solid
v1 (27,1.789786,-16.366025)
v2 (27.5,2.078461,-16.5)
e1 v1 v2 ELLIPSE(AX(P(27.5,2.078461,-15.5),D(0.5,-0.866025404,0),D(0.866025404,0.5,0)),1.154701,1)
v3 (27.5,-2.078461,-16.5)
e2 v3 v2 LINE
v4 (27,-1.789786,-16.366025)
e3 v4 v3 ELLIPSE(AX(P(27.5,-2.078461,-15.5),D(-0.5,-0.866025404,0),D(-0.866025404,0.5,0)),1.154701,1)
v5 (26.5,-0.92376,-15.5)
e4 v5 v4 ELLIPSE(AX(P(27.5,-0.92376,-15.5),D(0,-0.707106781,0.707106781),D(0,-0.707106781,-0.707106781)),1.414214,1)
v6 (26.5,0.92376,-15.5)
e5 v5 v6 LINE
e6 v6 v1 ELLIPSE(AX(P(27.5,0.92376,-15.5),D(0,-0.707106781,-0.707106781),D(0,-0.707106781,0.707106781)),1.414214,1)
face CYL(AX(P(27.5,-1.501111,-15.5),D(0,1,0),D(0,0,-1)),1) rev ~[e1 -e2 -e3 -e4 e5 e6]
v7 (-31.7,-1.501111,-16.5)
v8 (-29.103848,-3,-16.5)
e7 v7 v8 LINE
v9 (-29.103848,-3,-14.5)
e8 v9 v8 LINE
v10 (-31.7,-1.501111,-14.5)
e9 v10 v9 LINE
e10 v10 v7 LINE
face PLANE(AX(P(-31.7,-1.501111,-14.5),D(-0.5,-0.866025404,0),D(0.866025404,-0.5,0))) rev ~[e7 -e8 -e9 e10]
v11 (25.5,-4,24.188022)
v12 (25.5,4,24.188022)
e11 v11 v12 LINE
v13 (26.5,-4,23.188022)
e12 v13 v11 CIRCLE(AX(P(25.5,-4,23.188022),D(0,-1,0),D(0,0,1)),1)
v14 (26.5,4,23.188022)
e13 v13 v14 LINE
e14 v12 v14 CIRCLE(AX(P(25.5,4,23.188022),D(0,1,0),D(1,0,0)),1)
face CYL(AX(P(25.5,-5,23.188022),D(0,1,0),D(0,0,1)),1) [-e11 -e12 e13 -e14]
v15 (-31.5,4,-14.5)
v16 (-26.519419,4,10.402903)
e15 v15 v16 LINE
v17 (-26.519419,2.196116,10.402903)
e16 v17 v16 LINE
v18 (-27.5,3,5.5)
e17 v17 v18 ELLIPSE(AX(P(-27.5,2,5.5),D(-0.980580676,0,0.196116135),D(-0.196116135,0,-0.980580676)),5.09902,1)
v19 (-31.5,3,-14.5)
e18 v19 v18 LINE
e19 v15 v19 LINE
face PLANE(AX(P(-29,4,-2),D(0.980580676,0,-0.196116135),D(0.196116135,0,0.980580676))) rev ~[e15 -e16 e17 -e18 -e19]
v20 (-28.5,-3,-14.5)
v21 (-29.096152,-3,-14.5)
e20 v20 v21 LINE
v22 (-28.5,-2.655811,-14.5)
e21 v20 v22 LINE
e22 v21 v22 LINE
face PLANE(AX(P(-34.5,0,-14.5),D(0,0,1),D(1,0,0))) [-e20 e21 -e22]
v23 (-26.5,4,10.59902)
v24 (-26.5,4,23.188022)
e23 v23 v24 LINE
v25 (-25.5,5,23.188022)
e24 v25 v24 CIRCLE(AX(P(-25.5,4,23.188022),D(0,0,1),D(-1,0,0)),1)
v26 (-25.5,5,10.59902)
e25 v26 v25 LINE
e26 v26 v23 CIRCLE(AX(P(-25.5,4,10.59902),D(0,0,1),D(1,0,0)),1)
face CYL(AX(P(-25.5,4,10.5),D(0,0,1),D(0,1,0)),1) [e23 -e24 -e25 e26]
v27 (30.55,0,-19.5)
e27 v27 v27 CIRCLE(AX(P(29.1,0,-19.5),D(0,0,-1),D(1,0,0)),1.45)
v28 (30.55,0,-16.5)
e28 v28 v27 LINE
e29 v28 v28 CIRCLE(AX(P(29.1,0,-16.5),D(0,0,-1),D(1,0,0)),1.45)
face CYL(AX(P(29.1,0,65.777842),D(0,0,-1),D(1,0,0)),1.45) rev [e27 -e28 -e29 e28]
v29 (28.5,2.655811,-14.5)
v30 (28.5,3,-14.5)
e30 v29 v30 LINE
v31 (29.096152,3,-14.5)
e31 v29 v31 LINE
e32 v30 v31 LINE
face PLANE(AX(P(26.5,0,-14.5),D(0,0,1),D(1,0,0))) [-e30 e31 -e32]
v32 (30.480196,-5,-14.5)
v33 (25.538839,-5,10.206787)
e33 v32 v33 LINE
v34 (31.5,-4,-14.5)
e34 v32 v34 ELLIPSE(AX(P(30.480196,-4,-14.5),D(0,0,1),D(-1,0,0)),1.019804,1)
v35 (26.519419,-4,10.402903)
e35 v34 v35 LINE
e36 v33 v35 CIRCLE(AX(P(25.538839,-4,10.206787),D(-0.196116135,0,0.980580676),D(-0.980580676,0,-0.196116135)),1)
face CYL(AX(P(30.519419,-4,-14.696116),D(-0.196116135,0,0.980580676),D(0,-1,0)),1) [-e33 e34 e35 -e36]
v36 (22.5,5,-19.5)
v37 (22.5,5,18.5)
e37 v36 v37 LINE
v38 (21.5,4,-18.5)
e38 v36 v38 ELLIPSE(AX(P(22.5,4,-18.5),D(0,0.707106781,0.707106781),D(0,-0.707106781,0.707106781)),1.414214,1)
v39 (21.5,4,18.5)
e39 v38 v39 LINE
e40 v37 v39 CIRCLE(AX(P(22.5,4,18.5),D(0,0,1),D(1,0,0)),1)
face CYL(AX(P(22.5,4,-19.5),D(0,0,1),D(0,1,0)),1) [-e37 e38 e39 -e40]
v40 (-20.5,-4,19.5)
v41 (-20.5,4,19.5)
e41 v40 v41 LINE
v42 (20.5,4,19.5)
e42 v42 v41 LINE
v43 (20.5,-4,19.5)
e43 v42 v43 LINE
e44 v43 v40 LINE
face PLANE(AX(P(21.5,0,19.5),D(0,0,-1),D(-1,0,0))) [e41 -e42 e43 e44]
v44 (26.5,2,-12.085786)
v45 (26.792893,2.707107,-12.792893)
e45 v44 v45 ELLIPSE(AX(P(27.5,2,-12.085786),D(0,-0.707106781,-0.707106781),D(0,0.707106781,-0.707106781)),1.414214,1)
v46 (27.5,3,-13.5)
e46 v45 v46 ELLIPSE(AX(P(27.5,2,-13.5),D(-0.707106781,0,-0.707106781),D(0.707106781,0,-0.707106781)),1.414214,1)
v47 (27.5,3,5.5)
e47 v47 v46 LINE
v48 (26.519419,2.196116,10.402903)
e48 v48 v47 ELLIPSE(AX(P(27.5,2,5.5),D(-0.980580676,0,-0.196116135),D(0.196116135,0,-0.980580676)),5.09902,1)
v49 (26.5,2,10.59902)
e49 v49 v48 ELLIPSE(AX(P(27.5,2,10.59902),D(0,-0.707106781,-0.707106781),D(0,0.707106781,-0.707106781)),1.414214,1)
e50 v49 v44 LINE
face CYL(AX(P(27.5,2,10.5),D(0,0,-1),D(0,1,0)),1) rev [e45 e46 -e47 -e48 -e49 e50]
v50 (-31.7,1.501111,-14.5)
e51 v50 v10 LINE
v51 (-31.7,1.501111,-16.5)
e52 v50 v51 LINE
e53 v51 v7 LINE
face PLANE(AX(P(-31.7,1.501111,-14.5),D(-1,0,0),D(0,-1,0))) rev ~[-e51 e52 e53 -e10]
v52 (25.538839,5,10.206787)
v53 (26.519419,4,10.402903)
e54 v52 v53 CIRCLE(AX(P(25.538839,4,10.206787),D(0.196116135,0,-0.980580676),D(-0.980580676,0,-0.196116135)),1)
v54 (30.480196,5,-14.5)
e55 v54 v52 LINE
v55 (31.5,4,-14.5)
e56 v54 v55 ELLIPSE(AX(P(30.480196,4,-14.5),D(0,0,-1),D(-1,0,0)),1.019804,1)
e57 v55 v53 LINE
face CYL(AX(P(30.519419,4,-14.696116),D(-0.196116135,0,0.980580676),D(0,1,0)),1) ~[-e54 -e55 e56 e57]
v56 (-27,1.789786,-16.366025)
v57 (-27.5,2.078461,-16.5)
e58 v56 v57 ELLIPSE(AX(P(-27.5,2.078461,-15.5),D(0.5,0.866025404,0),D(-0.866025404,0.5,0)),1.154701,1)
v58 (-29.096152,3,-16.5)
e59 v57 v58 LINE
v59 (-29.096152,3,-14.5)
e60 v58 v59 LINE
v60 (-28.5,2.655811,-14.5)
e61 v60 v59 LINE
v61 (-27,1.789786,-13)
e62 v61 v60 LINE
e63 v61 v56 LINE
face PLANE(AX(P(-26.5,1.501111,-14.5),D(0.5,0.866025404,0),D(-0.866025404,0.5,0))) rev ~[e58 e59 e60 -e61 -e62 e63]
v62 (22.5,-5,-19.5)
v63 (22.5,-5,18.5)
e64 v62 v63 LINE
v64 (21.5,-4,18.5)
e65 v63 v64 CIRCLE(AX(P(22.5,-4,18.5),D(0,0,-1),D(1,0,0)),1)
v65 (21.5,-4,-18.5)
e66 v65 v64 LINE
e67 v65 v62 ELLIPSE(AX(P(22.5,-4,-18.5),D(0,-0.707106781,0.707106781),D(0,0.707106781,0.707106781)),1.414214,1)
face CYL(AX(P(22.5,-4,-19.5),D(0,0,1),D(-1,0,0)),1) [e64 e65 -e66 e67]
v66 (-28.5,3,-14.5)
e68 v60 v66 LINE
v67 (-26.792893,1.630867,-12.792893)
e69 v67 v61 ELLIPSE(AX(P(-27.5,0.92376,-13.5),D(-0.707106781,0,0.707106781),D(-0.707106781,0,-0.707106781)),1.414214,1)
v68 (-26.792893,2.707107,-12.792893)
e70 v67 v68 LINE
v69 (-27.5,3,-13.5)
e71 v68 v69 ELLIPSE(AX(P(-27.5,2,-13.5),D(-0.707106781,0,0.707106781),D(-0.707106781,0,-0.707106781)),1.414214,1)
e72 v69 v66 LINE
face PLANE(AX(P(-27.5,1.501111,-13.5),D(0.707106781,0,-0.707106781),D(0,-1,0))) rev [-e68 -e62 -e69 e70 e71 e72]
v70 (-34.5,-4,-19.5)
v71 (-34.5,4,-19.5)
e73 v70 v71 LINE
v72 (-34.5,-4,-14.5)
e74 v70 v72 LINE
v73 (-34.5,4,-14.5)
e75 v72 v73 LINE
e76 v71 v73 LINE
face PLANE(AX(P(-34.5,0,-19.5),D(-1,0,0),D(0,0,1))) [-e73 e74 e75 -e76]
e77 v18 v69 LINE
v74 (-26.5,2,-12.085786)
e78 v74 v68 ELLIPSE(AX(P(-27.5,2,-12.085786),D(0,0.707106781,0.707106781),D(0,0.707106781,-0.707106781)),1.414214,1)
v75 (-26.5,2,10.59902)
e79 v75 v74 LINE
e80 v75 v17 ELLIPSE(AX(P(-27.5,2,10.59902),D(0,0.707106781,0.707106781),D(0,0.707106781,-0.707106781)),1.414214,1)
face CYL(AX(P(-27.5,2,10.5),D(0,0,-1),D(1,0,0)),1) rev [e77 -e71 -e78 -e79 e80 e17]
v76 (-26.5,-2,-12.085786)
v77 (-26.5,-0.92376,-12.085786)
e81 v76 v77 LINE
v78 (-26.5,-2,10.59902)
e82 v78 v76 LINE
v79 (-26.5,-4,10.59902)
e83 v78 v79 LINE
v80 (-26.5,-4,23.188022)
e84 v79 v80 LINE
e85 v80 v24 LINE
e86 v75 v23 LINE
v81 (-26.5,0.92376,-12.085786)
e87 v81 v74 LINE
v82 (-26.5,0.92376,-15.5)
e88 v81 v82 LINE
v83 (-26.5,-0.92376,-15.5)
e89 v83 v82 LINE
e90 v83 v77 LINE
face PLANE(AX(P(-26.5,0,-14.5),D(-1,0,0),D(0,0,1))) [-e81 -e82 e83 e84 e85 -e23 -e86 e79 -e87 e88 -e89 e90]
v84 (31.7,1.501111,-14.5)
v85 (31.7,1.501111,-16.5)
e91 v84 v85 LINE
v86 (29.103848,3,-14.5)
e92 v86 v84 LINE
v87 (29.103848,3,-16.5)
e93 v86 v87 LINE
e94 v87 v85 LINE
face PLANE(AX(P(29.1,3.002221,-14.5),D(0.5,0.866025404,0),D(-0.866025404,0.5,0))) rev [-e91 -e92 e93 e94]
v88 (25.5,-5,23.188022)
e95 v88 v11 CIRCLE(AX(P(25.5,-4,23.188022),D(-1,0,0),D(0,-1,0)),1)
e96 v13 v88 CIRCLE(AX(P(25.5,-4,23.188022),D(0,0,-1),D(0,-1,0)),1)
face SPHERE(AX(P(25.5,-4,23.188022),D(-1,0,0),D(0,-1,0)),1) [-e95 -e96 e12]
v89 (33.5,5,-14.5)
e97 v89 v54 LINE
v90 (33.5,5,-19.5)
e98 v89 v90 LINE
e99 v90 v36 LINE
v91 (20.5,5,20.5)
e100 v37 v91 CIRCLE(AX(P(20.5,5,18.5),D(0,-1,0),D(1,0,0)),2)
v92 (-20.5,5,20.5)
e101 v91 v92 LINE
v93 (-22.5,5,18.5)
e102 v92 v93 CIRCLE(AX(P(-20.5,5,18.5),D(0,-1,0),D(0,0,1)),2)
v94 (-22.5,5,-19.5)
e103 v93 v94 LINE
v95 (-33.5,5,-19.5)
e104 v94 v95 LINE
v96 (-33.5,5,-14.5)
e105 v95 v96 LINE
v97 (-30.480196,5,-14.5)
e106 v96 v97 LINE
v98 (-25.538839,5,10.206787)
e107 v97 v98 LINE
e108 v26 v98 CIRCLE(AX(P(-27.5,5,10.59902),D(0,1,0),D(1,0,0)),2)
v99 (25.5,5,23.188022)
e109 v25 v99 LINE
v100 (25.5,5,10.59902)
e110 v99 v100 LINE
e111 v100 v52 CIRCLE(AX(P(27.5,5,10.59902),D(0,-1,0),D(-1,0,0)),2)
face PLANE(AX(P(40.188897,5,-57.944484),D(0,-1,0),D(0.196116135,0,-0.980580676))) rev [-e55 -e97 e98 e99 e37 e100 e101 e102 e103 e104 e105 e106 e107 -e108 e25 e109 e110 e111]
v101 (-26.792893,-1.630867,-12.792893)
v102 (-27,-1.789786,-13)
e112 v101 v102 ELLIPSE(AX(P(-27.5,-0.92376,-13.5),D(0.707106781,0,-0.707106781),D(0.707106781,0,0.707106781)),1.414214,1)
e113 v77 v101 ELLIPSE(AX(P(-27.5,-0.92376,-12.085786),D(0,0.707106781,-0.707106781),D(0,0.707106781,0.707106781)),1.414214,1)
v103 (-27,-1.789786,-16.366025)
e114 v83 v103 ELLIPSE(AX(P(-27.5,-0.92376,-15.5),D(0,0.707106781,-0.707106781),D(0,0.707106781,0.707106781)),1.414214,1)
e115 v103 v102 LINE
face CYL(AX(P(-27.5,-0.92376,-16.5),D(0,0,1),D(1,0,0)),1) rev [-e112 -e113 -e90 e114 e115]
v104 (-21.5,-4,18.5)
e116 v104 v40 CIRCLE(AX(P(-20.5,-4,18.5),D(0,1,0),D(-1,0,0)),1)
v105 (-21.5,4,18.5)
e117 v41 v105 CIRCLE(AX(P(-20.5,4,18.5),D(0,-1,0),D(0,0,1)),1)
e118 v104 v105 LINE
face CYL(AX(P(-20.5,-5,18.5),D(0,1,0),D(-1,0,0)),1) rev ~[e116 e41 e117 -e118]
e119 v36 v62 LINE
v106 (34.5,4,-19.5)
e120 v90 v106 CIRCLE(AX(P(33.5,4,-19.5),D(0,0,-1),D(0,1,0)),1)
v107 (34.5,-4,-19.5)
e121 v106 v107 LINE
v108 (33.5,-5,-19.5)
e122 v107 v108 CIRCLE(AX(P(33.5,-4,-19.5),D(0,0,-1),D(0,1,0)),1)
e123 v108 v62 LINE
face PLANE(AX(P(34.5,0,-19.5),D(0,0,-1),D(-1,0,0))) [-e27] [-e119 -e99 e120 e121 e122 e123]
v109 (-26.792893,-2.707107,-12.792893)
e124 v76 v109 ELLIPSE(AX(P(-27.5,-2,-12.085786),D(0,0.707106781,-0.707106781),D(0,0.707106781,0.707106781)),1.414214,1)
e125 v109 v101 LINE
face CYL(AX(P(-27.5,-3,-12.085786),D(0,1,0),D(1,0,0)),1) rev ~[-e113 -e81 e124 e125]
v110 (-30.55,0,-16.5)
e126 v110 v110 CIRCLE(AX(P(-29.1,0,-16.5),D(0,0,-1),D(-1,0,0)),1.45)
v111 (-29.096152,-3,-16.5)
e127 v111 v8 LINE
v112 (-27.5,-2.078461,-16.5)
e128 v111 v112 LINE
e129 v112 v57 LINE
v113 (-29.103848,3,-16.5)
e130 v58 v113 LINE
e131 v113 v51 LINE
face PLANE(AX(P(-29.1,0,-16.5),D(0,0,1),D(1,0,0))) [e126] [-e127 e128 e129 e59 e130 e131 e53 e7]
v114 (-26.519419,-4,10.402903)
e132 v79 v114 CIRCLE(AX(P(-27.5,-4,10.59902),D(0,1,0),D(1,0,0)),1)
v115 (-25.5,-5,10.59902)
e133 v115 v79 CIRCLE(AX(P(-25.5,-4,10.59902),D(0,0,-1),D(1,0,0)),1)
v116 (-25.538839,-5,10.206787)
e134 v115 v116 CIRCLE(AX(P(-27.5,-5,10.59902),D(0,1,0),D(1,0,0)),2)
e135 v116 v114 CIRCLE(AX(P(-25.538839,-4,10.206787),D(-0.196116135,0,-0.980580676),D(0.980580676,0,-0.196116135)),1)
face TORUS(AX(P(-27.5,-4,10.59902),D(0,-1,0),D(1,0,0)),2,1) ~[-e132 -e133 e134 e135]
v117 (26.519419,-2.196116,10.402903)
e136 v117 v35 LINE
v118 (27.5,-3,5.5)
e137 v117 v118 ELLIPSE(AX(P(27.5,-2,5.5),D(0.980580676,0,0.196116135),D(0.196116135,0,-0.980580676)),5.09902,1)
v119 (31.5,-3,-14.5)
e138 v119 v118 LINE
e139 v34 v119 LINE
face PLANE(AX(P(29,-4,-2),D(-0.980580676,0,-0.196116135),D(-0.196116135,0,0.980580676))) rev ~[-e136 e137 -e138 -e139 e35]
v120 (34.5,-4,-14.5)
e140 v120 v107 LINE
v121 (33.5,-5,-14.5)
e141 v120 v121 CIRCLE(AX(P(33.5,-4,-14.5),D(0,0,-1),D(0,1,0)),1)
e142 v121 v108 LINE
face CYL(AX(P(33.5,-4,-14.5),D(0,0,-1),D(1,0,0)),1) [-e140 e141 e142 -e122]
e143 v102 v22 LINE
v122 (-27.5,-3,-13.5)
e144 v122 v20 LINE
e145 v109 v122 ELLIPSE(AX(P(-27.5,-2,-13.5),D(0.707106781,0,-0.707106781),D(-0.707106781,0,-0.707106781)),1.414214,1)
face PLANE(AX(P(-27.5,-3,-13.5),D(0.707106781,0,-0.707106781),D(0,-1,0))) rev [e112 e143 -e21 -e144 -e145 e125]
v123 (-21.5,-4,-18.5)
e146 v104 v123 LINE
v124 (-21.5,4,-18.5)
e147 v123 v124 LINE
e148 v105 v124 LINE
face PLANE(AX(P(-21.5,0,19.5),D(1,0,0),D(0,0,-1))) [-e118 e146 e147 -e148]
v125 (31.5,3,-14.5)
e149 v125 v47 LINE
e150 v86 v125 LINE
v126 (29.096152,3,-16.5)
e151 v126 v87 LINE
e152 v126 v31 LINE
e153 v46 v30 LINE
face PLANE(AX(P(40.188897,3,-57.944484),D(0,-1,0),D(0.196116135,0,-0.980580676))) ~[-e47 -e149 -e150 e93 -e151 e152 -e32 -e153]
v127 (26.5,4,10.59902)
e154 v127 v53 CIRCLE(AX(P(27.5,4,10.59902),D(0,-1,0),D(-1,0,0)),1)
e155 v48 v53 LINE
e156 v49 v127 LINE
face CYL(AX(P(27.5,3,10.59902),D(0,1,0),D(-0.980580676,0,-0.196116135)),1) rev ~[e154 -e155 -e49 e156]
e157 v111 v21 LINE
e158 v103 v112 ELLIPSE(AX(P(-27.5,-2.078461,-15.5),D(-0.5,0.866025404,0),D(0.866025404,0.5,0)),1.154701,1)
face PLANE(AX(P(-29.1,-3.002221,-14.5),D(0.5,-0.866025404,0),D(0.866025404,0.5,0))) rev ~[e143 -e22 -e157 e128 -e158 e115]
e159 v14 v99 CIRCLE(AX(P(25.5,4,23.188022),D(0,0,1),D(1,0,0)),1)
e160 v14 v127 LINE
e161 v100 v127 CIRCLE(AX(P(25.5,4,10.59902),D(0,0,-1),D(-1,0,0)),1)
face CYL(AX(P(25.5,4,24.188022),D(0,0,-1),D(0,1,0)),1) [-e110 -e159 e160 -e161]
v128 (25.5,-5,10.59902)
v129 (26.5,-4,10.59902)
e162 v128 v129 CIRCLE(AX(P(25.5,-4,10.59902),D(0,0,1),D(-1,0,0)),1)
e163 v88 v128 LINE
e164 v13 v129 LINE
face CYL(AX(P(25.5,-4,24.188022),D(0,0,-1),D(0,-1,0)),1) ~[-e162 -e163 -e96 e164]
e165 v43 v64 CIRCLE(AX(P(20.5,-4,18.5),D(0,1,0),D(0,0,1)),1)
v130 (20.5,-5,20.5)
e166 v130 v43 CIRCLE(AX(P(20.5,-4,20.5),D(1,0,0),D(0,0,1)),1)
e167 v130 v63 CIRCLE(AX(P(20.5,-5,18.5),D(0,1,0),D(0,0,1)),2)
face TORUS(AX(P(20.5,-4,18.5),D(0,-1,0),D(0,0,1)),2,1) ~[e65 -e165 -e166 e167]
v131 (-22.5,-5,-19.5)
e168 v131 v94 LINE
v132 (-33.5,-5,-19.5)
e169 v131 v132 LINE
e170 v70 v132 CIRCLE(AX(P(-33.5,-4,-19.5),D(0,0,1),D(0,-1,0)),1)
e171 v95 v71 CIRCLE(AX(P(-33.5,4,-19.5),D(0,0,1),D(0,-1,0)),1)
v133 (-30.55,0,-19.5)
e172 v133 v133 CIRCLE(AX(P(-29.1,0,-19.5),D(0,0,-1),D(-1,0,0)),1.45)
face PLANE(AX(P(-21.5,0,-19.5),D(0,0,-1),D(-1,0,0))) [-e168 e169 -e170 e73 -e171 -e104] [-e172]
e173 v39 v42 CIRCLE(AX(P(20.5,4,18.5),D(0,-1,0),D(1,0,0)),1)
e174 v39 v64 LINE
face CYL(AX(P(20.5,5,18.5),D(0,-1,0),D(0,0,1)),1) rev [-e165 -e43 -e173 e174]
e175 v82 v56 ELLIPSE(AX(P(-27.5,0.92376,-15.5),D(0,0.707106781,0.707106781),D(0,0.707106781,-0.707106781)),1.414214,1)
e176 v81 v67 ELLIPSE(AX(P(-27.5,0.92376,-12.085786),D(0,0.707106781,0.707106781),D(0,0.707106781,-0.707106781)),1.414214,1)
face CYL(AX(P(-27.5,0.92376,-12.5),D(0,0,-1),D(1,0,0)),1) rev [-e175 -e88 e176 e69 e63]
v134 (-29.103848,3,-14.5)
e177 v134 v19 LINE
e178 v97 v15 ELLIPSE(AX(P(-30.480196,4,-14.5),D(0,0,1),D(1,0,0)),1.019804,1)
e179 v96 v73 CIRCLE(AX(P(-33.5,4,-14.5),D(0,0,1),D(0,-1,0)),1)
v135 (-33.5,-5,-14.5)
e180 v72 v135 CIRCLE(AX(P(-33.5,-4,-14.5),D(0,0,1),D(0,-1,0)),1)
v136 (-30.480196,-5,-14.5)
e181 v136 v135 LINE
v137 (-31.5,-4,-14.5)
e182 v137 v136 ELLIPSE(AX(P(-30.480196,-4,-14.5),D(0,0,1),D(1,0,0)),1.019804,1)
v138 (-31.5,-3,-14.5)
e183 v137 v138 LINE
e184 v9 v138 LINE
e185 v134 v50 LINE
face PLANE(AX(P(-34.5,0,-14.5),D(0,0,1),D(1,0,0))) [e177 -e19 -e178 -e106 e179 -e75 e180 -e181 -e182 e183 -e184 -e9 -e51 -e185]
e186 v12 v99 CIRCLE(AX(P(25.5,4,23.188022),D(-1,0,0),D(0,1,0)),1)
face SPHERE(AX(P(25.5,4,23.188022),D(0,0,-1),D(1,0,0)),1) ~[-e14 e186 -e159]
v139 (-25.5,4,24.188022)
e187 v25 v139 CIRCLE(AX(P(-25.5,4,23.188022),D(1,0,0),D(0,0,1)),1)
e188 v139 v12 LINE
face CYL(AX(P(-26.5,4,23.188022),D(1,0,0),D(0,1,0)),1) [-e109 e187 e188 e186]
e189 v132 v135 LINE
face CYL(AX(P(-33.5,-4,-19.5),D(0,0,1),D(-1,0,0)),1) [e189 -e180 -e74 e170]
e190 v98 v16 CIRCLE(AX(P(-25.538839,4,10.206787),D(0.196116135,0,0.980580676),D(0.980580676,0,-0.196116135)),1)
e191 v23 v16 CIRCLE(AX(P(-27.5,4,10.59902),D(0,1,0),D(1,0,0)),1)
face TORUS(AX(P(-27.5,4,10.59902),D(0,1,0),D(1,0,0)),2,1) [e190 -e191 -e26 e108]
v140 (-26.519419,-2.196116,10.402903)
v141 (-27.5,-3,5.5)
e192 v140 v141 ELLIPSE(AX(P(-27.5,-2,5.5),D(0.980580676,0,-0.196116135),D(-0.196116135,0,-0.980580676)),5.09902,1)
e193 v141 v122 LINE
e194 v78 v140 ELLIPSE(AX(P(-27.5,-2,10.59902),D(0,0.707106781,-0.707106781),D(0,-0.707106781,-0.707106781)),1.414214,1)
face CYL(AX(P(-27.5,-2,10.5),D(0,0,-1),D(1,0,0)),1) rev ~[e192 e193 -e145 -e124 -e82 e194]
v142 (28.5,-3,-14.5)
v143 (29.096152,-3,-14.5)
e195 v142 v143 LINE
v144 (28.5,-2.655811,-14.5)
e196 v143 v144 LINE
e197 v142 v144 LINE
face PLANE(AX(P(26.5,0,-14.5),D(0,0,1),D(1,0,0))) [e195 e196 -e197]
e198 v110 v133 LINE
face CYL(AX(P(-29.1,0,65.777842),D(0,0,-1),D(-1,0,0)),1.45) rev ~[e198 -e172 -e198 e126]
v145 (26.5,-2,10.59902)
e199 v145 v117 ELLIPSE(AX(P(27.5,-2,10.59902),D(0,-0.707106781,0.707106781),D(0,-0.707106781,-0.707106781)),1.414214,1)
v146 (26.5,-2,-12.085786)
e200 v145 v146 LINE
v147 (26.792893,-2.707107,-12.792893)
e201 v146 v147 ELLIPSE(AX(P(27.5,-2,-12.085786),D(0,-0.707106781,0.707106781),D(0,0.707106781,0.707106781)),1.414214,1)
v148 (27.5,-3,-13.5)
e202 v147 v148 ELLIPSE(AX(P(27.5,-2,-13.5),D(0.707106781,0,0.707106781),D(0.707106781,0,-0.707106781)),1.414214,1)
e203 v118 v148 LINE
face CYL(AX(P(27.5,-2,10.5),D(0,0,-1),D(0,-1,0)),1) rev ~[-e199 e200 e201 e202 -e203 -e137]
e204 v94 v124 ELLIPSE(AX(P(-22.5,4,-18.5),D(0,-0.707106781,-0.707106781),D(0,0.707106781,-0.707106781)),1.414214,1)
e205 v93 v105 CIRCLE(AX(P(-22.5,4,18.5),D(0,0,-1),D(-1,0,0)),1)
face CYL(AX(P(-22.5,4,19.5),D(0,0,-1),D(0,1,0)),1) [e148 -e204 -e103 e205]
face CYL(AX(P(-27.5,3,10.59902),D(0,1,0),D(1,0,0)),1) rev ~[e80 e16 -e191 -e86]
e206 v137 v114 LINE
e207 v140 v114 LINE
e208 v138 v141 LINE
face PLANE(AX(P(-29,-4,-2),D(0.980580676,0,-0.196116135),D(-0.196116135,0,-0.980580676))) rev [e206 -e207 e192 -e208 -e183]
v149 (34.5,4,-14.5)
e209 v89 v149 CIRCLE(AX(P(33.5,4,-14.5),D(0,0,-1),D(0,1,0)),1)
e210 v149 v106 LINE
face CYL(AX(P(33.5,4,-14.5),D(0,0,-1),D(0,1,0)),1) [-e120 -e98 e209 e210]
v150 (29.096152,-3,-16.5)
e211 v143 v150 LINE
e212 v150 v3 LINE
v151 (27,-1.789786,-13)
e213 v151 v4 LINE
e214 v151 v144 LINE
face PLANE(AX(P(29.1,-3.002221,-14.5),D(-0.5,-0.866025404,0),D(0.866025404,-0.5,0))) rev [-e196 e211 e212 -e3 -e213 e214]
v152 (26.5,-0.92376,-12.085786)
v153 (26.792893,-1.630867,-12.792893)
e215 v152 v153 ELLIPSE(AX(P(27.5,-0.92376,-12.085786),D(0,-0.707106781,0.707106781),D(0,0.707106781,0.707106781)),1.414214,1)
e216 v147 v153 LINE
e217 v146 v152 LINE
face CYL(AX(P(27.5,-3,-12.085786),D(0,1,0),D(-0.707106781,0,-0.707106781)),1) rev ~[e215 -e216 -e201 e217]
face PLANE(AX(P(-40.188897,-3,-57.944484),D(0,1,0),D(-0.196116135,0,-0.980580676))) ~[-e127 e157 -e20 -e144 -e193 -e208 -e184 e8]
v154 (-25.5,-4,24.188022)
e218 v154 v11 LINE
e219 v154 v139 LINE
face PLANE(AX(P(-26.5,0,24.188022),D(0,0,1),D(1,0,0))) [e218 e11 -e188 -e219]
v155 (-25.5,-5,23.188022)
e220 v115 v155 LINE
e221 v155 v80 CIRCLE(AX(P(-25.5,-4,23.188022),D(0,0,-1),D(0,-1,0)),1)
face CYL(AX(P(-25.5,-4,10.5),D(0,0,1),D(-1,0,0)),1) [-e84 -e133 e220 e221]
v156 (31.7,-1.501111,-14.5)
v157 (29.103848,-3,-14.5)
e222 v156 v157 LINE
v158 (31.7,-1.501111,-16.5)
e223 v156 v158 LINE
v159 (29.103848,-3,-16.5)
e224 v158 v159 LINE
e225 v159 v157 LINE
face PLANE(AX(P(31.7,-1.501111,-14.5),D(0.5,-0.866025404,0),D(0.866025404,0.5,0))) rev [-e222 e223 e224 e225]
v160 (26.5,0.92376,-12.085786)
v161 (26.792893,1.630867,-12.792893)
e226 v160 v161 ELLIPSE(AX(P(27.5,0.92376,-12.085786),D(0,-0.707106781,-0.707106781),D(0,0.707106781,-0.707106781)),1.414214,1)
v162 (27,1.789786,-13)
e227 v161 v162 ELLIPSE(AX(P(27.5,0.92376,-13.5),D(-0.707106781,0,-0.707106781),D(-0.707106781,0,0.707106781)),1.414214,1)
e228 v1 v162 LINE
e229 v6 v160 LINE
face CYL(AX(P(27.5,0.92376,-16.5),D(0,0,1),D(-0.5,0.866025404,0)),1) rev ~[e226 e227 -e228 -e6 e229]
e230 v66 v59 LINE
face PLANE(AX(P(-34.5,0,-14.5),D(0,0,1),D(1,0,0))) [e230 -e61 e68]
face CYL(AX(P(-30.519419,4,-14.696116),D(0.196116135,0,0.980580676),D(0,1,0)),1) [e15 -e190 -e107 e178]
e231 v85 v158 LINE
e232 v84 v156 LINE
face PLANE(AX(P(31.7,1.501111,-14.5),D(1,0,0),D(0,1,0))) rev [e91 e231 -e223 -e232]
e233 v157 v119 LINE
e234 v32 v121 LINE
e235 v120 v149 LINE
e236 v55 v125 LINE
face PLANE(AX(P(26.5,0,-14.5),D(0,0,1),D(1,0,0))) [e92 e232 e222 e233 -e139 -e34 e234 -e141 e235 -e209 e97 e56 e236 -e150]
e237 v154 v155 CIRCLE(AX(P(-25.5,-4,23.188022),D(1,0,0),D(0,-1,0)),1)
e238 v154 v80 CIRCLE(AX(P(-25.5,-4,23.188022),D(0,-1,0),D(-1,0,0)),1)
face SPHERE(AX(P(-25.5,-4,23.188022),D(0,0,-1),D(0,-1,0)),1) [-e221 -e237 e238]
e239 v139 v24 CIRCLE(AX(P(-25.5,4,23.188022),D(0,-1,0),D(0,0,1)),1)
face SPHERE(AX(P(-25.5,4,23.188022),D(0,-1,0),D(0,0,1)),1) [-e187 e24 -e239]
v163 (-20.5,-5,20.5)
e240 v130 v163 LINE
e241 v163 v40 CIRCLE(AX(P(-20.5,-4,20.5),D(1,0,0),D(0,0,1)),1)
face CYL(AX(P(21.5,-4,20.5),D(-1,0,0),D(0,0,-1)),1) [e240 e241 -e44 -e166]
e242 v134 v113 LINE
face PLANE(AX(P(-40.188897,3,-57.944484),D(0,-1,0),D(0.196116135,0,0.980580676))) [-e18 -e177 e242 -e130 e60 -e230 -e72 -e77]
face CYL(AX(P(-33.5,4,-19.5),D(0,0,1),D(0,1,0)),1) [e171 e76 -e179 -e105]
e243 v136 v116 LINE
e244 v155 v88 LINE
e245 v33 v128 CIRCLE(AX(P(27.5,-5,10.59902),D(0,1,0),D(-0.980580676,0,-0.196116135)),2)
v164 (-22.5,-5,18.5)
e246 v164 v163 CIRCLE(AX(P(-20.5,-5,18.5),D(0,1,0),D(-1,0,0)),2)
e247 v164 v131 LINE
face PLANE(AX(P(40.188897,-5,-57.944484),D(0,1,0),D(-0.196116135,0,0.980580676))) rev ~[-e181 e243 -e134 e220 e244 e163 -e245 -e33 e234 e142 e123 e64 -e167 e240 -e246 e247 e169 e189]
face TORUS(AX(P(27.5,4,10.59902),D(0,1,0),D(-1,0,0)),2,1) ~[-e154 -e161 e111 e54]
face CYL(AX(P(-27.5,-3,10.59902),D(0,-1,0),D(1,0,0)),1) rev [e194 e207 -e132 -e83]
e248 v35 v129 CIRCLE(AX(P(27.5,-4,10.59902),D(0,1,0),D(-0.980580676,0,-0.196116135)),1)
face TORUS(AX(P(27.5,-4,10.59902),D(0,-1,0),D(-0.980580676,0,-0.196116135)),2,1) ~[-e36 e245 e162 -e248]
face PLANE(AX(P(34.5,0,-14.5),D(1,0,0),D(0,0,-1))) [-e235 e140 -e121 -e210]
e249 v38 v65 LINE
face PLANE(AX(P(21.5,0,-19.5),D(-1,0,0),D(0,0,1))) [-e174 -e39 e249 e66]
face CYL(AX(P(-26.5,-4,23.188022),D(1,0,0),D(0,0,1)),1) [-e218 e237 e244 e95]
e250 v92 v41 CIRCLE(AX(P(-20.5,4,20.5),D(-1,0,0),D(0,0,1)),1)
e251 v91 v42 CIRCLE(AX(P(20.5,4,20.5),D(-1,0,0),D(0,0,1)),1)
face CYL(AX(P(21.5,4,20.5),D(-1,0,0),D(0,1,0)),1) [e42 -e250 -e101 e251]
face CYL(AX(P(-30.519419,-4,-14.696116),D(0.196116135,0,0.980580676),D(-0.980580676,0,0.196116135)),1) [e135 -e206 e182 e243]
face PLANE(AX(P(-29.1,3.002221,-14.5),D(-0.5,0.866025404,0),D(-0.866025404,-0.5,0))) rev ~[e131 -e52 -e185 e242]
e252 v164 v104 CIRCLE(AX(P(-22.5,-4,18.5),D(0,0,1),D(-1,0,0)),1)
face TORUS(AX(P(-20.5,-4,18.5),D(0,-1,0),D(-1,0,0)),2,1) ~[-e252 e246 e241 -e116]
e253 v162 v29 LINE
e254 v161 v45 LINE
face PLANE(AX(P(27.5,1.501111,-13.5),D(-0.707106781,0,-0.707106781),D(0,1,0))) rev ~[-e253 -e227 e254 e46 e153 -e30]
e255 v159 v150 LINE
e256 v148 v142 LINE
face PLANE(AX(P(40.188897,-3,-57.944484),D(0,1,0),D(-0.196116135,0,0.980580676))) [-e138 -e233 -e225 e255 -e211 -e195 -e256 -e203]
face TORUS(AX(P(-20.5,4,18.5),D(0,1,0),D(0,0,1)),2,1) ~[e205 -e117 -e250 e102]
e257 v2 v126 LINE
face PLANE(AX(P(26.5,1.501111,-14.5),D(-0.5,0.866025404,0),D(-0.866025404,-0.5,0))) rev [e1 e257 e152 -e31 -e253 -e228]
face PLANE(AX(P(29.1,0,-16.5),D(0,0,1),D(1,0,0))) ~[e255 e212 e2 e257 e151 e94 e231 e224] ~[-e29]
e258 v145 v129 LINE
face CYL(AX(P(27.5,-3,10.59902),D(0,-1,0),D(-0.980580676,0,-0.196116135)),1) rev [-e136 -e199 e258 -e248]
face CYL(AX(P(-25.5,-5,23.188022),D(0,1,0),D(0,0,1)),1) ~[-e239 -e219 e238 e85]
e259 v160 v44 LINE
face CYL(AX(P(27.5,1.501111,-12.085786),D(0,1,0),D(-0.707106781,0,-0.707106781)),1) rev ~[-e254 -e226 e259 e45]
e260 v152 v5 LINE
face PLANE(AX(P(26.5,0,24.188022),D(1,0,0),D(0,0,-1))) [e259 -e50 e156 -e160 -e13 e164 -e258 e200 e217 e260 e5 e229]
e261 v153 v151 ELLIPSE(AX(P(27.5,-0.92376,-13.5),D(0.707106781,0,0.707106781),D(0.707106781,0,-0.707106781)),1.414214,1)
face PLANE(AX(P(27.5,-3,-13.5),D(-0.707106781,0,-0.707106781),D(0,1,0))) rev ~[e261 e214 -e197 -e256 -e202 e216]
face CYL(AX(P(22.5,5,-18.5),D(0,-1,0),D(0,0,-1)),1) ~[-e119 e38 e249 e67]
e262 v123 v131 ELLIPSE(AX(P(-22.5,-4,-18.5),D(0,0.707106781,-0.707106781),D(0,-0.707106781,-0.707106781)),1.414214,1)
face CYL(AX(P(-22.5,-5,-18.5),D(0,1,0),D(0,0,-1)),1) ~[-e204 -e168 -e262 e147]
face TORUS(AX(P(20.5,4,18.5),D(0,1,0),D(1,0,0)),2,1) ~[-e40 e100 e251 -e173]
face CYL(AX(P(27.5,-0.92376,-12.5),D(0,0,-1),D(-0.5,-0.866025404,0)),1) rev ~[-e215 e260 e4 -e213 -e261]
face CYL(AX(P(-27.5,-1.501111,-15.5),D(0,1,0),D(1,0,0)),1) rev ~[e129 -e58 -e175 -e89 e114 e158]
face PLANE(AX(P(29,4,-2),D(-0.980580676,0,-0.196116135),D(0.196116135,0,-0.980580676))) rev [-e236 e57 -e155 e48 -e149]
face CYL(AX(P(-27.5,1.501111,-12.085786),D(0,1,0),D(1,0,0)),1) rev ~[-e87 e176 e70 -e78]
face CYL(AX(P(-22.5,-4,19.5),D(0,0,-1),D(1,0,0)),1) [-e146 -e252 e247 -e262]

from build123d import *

# Parameters (mm, degrees)
BOSS_EXTRUDE1_DEPTH     = 5
CUT_EXTRUDE1_DEPTH      = 2
M2_5_CLEARANCE_HOLE1_D  = 2.9
RIB1_REACH              = 45.305
SKETCH5_WALL_W          = 114.10480654
SKETCH5_WALL_H          = 2
MIRROR2_COPY_1_REACH    = 45.305
MIRROR2_COPY_1_SKETCH_W = 114.10480654
MIRROR2_COPY_1_SKETCH_H = 2
CHAMFER1_SIZE           = 2
FILLET1_R               = 1


with BuildPart() as part:
    # Sketch1 → Boss-Extrude1 (new, symmetric)
    with BuildSketch(Plane(origin=(0, 0, 0), x_dir=(1, 0, 0), z_dir=(0, 1, 0))):
        Polygon((21.5, -19.5), (-21.5, -19.5), (-21.5, 19.5), (-34.5, 19.5), (-34.5, 14.5), (-26.5, 14.5), (-26.5, -24.188022284), (26.5, -24.188022284), (26.5, 14.5), (34.5, 14.5), (34.5, 19.5), (21.5, 19.5), align=None)
    extrude(amount=BOSS_EXTRUDE1_DEPTH, both=True)

    # Sketch2 → Cut-Extrude1 (cut)
    with BuildSketch(Plane.XY.offset(-14.5)):
        Polygon((-26.5, 1.5011107), (-29.1, 3.0022214), (-31.7, 1.5011107), (-31.7, -1.5011107), (-29.1, -3.0022214), (-26.5, -1.5011107), align=None)
    cut_extrude1 = extrude(amount=-CUT_EXTRUDE1_DEPTH, mode=Mode.SUBTRACT)

    # M2.5 Clearance Hole1 (through all)
    with Locations(Plane.XY.offset(-16.5)):
        with Locations((-29.1, 0)):
            m2_5_clearance_hole1 = Hole(M2_5_CLEARANCE_HOLE1_D / 2)

    # Sketch5 wall → Rib1 (add, up to next)
    with BuildSketch(Plane(origin=(-29, 5, -2), x_dir=(0.196116135138, 0, 0.980580675691), z_dir=(0.980580675691, 0, -0.196116135138)), mode=Mode.PRIVATE) as rib1_sk1:
        with Locations((0, 1)):
            Rectangle(SKETCH5_WALL_W, SKETCH5_WALL_H)
    rib1_tool1 = extrude(rib1_sk1.sketch, amount=RIB1_REACH, mode=Mode.PRIVATE) - part.part
    rib1 = rib1_tool1.solids().sort_by_distance((-29, 5, -2))[0]
    add(rib1)

    # Mirror1: Rib1 across plane
    add(rib1.mirror(Plane.ZX))

    # Mirror2: Cut-Extrude1, M2.5 Clearance Hole1, Rib1 across plane
    add(cut_extrude1.mirror(Plane(origin=(0, 0, 0), x_dir=(0, 0, 1), z_dir=(1, 0, 0))), mode=Mode.SUBTRACT)
    add(m2_5_clearance_hole1.mirror(Plane(origin=(0, 0, 0), x_dir=(0, 0, 1), z_dir=(1, 0, 0))), mode=Mode.SUBTRACT)
    add(rib1.mirror(Plane(origin=(0, 0, 0), x_dir=(0, 0, 1), z_dir=(1, 0, 0))))

    # Mirror2 copy 1 sketch → Mirror2 copy 1 (add, up to next)
    with BuildSketch(Plane(origin=(29, -5, -2), x_dir=(-0.196116135138, 0, 0.980580675691), z_dir=(-0.980580675691, 0, -0.196116135138)), mode=Mode.PRIVATE) as mirror2_copy_1_sk1:
        with Locations((0, 1)):
            Rectangle(MIRROR2_COPY_1_SKETCH_W, MIRROR2_COPY_1_SKETCH_H)
    mirror2_copy_1_tool1 = extrude(mirror2_copy_1_sk1.sketch, amount=MIRROR2_COPY_1_REACH, mode=Mode.PRIVATE) - part.part
    add(mirror2_copy_1_tool1.solids().sort_by_distance((29, -5, -2))[0])

    # Chamfer1
    chamfer1_edges = [part.edges().sort_by_distance(p)[0] for p in [
        (26.5, -2.25055535, -14.5),
        (26.5, 2.25055535, -14.5),
        (-26.5, -2.25055535, -14.5),
        (-26.5, 2.25055535, -14.5),
    ]]
    chamfer(chamfer1_edges, length=CHAMFER1_SIZE)

    # Fillet1
    fillet1_edges = [part.edges().sort_by_distance(p)[0] for p in [
        (-26.5, -5, 17.344011142),
        (-29, -5, -2),
        (-26.5, -3, -1),
        (-26.5, -4, 10.5),
        (0, -5, 24.188022284),
        (26.5, -1.5011107, -14.5),
        (26.5, 1.5011107, -14.5),
        (-34.5, -5, -17),
        (26.5, 0, -16.5),
        (34.5, 5, -17),
        (-21.5, -5, 0),
        (0, -5, 19.5),
        (21.5, -5, 0),
        (26.5, 5, 17.344011142),
        (34.5, -5, -17),
        (29, 5, -2),
        (26.5, 4, 10.5),
        (26.5, -5, 17.344011142),
        (26.5, -4, 10.5),
        (29, -5, -2),
        (26.5, 0, 24.188022284),
        (-26.5, 0, 24.188022284),
        (26.5, -3, -1),
        (-21.5, 0, -19.5),
        (-21.5, 0, 19.5),
        (21.5, 0, 19.5),
        (21.5, 0, -19.5),
        (21.5, 5, 0),
        (26.5, 3, -1),
        (26.5, 2.25055535, -12.5),
        (26.5, -2.25055535, -12.5),
        (-26.5, 3, -1),
        (-26.5, 2.25055535, -12.5),
        (-26.5, -2.25055535, -12.5),
        (0, 5, 19.5),
        (-21.5, 5, 0),
        (-26.5, 0, -16.5),
        (-26.5, 1.5011107, -14.5),
        (-26.5, -1.5011107, -14.5),
        (-34.5, 5, -17),
        (0, 5, 24.188022284),
        (-26.5, 5, 17.344011142),
        (-29, 5, -2),
        (-26.5, 4, 10.5),
    ]]
    fillet(fillet1_edges, radius=FILLET1_R)


solid = part.part
